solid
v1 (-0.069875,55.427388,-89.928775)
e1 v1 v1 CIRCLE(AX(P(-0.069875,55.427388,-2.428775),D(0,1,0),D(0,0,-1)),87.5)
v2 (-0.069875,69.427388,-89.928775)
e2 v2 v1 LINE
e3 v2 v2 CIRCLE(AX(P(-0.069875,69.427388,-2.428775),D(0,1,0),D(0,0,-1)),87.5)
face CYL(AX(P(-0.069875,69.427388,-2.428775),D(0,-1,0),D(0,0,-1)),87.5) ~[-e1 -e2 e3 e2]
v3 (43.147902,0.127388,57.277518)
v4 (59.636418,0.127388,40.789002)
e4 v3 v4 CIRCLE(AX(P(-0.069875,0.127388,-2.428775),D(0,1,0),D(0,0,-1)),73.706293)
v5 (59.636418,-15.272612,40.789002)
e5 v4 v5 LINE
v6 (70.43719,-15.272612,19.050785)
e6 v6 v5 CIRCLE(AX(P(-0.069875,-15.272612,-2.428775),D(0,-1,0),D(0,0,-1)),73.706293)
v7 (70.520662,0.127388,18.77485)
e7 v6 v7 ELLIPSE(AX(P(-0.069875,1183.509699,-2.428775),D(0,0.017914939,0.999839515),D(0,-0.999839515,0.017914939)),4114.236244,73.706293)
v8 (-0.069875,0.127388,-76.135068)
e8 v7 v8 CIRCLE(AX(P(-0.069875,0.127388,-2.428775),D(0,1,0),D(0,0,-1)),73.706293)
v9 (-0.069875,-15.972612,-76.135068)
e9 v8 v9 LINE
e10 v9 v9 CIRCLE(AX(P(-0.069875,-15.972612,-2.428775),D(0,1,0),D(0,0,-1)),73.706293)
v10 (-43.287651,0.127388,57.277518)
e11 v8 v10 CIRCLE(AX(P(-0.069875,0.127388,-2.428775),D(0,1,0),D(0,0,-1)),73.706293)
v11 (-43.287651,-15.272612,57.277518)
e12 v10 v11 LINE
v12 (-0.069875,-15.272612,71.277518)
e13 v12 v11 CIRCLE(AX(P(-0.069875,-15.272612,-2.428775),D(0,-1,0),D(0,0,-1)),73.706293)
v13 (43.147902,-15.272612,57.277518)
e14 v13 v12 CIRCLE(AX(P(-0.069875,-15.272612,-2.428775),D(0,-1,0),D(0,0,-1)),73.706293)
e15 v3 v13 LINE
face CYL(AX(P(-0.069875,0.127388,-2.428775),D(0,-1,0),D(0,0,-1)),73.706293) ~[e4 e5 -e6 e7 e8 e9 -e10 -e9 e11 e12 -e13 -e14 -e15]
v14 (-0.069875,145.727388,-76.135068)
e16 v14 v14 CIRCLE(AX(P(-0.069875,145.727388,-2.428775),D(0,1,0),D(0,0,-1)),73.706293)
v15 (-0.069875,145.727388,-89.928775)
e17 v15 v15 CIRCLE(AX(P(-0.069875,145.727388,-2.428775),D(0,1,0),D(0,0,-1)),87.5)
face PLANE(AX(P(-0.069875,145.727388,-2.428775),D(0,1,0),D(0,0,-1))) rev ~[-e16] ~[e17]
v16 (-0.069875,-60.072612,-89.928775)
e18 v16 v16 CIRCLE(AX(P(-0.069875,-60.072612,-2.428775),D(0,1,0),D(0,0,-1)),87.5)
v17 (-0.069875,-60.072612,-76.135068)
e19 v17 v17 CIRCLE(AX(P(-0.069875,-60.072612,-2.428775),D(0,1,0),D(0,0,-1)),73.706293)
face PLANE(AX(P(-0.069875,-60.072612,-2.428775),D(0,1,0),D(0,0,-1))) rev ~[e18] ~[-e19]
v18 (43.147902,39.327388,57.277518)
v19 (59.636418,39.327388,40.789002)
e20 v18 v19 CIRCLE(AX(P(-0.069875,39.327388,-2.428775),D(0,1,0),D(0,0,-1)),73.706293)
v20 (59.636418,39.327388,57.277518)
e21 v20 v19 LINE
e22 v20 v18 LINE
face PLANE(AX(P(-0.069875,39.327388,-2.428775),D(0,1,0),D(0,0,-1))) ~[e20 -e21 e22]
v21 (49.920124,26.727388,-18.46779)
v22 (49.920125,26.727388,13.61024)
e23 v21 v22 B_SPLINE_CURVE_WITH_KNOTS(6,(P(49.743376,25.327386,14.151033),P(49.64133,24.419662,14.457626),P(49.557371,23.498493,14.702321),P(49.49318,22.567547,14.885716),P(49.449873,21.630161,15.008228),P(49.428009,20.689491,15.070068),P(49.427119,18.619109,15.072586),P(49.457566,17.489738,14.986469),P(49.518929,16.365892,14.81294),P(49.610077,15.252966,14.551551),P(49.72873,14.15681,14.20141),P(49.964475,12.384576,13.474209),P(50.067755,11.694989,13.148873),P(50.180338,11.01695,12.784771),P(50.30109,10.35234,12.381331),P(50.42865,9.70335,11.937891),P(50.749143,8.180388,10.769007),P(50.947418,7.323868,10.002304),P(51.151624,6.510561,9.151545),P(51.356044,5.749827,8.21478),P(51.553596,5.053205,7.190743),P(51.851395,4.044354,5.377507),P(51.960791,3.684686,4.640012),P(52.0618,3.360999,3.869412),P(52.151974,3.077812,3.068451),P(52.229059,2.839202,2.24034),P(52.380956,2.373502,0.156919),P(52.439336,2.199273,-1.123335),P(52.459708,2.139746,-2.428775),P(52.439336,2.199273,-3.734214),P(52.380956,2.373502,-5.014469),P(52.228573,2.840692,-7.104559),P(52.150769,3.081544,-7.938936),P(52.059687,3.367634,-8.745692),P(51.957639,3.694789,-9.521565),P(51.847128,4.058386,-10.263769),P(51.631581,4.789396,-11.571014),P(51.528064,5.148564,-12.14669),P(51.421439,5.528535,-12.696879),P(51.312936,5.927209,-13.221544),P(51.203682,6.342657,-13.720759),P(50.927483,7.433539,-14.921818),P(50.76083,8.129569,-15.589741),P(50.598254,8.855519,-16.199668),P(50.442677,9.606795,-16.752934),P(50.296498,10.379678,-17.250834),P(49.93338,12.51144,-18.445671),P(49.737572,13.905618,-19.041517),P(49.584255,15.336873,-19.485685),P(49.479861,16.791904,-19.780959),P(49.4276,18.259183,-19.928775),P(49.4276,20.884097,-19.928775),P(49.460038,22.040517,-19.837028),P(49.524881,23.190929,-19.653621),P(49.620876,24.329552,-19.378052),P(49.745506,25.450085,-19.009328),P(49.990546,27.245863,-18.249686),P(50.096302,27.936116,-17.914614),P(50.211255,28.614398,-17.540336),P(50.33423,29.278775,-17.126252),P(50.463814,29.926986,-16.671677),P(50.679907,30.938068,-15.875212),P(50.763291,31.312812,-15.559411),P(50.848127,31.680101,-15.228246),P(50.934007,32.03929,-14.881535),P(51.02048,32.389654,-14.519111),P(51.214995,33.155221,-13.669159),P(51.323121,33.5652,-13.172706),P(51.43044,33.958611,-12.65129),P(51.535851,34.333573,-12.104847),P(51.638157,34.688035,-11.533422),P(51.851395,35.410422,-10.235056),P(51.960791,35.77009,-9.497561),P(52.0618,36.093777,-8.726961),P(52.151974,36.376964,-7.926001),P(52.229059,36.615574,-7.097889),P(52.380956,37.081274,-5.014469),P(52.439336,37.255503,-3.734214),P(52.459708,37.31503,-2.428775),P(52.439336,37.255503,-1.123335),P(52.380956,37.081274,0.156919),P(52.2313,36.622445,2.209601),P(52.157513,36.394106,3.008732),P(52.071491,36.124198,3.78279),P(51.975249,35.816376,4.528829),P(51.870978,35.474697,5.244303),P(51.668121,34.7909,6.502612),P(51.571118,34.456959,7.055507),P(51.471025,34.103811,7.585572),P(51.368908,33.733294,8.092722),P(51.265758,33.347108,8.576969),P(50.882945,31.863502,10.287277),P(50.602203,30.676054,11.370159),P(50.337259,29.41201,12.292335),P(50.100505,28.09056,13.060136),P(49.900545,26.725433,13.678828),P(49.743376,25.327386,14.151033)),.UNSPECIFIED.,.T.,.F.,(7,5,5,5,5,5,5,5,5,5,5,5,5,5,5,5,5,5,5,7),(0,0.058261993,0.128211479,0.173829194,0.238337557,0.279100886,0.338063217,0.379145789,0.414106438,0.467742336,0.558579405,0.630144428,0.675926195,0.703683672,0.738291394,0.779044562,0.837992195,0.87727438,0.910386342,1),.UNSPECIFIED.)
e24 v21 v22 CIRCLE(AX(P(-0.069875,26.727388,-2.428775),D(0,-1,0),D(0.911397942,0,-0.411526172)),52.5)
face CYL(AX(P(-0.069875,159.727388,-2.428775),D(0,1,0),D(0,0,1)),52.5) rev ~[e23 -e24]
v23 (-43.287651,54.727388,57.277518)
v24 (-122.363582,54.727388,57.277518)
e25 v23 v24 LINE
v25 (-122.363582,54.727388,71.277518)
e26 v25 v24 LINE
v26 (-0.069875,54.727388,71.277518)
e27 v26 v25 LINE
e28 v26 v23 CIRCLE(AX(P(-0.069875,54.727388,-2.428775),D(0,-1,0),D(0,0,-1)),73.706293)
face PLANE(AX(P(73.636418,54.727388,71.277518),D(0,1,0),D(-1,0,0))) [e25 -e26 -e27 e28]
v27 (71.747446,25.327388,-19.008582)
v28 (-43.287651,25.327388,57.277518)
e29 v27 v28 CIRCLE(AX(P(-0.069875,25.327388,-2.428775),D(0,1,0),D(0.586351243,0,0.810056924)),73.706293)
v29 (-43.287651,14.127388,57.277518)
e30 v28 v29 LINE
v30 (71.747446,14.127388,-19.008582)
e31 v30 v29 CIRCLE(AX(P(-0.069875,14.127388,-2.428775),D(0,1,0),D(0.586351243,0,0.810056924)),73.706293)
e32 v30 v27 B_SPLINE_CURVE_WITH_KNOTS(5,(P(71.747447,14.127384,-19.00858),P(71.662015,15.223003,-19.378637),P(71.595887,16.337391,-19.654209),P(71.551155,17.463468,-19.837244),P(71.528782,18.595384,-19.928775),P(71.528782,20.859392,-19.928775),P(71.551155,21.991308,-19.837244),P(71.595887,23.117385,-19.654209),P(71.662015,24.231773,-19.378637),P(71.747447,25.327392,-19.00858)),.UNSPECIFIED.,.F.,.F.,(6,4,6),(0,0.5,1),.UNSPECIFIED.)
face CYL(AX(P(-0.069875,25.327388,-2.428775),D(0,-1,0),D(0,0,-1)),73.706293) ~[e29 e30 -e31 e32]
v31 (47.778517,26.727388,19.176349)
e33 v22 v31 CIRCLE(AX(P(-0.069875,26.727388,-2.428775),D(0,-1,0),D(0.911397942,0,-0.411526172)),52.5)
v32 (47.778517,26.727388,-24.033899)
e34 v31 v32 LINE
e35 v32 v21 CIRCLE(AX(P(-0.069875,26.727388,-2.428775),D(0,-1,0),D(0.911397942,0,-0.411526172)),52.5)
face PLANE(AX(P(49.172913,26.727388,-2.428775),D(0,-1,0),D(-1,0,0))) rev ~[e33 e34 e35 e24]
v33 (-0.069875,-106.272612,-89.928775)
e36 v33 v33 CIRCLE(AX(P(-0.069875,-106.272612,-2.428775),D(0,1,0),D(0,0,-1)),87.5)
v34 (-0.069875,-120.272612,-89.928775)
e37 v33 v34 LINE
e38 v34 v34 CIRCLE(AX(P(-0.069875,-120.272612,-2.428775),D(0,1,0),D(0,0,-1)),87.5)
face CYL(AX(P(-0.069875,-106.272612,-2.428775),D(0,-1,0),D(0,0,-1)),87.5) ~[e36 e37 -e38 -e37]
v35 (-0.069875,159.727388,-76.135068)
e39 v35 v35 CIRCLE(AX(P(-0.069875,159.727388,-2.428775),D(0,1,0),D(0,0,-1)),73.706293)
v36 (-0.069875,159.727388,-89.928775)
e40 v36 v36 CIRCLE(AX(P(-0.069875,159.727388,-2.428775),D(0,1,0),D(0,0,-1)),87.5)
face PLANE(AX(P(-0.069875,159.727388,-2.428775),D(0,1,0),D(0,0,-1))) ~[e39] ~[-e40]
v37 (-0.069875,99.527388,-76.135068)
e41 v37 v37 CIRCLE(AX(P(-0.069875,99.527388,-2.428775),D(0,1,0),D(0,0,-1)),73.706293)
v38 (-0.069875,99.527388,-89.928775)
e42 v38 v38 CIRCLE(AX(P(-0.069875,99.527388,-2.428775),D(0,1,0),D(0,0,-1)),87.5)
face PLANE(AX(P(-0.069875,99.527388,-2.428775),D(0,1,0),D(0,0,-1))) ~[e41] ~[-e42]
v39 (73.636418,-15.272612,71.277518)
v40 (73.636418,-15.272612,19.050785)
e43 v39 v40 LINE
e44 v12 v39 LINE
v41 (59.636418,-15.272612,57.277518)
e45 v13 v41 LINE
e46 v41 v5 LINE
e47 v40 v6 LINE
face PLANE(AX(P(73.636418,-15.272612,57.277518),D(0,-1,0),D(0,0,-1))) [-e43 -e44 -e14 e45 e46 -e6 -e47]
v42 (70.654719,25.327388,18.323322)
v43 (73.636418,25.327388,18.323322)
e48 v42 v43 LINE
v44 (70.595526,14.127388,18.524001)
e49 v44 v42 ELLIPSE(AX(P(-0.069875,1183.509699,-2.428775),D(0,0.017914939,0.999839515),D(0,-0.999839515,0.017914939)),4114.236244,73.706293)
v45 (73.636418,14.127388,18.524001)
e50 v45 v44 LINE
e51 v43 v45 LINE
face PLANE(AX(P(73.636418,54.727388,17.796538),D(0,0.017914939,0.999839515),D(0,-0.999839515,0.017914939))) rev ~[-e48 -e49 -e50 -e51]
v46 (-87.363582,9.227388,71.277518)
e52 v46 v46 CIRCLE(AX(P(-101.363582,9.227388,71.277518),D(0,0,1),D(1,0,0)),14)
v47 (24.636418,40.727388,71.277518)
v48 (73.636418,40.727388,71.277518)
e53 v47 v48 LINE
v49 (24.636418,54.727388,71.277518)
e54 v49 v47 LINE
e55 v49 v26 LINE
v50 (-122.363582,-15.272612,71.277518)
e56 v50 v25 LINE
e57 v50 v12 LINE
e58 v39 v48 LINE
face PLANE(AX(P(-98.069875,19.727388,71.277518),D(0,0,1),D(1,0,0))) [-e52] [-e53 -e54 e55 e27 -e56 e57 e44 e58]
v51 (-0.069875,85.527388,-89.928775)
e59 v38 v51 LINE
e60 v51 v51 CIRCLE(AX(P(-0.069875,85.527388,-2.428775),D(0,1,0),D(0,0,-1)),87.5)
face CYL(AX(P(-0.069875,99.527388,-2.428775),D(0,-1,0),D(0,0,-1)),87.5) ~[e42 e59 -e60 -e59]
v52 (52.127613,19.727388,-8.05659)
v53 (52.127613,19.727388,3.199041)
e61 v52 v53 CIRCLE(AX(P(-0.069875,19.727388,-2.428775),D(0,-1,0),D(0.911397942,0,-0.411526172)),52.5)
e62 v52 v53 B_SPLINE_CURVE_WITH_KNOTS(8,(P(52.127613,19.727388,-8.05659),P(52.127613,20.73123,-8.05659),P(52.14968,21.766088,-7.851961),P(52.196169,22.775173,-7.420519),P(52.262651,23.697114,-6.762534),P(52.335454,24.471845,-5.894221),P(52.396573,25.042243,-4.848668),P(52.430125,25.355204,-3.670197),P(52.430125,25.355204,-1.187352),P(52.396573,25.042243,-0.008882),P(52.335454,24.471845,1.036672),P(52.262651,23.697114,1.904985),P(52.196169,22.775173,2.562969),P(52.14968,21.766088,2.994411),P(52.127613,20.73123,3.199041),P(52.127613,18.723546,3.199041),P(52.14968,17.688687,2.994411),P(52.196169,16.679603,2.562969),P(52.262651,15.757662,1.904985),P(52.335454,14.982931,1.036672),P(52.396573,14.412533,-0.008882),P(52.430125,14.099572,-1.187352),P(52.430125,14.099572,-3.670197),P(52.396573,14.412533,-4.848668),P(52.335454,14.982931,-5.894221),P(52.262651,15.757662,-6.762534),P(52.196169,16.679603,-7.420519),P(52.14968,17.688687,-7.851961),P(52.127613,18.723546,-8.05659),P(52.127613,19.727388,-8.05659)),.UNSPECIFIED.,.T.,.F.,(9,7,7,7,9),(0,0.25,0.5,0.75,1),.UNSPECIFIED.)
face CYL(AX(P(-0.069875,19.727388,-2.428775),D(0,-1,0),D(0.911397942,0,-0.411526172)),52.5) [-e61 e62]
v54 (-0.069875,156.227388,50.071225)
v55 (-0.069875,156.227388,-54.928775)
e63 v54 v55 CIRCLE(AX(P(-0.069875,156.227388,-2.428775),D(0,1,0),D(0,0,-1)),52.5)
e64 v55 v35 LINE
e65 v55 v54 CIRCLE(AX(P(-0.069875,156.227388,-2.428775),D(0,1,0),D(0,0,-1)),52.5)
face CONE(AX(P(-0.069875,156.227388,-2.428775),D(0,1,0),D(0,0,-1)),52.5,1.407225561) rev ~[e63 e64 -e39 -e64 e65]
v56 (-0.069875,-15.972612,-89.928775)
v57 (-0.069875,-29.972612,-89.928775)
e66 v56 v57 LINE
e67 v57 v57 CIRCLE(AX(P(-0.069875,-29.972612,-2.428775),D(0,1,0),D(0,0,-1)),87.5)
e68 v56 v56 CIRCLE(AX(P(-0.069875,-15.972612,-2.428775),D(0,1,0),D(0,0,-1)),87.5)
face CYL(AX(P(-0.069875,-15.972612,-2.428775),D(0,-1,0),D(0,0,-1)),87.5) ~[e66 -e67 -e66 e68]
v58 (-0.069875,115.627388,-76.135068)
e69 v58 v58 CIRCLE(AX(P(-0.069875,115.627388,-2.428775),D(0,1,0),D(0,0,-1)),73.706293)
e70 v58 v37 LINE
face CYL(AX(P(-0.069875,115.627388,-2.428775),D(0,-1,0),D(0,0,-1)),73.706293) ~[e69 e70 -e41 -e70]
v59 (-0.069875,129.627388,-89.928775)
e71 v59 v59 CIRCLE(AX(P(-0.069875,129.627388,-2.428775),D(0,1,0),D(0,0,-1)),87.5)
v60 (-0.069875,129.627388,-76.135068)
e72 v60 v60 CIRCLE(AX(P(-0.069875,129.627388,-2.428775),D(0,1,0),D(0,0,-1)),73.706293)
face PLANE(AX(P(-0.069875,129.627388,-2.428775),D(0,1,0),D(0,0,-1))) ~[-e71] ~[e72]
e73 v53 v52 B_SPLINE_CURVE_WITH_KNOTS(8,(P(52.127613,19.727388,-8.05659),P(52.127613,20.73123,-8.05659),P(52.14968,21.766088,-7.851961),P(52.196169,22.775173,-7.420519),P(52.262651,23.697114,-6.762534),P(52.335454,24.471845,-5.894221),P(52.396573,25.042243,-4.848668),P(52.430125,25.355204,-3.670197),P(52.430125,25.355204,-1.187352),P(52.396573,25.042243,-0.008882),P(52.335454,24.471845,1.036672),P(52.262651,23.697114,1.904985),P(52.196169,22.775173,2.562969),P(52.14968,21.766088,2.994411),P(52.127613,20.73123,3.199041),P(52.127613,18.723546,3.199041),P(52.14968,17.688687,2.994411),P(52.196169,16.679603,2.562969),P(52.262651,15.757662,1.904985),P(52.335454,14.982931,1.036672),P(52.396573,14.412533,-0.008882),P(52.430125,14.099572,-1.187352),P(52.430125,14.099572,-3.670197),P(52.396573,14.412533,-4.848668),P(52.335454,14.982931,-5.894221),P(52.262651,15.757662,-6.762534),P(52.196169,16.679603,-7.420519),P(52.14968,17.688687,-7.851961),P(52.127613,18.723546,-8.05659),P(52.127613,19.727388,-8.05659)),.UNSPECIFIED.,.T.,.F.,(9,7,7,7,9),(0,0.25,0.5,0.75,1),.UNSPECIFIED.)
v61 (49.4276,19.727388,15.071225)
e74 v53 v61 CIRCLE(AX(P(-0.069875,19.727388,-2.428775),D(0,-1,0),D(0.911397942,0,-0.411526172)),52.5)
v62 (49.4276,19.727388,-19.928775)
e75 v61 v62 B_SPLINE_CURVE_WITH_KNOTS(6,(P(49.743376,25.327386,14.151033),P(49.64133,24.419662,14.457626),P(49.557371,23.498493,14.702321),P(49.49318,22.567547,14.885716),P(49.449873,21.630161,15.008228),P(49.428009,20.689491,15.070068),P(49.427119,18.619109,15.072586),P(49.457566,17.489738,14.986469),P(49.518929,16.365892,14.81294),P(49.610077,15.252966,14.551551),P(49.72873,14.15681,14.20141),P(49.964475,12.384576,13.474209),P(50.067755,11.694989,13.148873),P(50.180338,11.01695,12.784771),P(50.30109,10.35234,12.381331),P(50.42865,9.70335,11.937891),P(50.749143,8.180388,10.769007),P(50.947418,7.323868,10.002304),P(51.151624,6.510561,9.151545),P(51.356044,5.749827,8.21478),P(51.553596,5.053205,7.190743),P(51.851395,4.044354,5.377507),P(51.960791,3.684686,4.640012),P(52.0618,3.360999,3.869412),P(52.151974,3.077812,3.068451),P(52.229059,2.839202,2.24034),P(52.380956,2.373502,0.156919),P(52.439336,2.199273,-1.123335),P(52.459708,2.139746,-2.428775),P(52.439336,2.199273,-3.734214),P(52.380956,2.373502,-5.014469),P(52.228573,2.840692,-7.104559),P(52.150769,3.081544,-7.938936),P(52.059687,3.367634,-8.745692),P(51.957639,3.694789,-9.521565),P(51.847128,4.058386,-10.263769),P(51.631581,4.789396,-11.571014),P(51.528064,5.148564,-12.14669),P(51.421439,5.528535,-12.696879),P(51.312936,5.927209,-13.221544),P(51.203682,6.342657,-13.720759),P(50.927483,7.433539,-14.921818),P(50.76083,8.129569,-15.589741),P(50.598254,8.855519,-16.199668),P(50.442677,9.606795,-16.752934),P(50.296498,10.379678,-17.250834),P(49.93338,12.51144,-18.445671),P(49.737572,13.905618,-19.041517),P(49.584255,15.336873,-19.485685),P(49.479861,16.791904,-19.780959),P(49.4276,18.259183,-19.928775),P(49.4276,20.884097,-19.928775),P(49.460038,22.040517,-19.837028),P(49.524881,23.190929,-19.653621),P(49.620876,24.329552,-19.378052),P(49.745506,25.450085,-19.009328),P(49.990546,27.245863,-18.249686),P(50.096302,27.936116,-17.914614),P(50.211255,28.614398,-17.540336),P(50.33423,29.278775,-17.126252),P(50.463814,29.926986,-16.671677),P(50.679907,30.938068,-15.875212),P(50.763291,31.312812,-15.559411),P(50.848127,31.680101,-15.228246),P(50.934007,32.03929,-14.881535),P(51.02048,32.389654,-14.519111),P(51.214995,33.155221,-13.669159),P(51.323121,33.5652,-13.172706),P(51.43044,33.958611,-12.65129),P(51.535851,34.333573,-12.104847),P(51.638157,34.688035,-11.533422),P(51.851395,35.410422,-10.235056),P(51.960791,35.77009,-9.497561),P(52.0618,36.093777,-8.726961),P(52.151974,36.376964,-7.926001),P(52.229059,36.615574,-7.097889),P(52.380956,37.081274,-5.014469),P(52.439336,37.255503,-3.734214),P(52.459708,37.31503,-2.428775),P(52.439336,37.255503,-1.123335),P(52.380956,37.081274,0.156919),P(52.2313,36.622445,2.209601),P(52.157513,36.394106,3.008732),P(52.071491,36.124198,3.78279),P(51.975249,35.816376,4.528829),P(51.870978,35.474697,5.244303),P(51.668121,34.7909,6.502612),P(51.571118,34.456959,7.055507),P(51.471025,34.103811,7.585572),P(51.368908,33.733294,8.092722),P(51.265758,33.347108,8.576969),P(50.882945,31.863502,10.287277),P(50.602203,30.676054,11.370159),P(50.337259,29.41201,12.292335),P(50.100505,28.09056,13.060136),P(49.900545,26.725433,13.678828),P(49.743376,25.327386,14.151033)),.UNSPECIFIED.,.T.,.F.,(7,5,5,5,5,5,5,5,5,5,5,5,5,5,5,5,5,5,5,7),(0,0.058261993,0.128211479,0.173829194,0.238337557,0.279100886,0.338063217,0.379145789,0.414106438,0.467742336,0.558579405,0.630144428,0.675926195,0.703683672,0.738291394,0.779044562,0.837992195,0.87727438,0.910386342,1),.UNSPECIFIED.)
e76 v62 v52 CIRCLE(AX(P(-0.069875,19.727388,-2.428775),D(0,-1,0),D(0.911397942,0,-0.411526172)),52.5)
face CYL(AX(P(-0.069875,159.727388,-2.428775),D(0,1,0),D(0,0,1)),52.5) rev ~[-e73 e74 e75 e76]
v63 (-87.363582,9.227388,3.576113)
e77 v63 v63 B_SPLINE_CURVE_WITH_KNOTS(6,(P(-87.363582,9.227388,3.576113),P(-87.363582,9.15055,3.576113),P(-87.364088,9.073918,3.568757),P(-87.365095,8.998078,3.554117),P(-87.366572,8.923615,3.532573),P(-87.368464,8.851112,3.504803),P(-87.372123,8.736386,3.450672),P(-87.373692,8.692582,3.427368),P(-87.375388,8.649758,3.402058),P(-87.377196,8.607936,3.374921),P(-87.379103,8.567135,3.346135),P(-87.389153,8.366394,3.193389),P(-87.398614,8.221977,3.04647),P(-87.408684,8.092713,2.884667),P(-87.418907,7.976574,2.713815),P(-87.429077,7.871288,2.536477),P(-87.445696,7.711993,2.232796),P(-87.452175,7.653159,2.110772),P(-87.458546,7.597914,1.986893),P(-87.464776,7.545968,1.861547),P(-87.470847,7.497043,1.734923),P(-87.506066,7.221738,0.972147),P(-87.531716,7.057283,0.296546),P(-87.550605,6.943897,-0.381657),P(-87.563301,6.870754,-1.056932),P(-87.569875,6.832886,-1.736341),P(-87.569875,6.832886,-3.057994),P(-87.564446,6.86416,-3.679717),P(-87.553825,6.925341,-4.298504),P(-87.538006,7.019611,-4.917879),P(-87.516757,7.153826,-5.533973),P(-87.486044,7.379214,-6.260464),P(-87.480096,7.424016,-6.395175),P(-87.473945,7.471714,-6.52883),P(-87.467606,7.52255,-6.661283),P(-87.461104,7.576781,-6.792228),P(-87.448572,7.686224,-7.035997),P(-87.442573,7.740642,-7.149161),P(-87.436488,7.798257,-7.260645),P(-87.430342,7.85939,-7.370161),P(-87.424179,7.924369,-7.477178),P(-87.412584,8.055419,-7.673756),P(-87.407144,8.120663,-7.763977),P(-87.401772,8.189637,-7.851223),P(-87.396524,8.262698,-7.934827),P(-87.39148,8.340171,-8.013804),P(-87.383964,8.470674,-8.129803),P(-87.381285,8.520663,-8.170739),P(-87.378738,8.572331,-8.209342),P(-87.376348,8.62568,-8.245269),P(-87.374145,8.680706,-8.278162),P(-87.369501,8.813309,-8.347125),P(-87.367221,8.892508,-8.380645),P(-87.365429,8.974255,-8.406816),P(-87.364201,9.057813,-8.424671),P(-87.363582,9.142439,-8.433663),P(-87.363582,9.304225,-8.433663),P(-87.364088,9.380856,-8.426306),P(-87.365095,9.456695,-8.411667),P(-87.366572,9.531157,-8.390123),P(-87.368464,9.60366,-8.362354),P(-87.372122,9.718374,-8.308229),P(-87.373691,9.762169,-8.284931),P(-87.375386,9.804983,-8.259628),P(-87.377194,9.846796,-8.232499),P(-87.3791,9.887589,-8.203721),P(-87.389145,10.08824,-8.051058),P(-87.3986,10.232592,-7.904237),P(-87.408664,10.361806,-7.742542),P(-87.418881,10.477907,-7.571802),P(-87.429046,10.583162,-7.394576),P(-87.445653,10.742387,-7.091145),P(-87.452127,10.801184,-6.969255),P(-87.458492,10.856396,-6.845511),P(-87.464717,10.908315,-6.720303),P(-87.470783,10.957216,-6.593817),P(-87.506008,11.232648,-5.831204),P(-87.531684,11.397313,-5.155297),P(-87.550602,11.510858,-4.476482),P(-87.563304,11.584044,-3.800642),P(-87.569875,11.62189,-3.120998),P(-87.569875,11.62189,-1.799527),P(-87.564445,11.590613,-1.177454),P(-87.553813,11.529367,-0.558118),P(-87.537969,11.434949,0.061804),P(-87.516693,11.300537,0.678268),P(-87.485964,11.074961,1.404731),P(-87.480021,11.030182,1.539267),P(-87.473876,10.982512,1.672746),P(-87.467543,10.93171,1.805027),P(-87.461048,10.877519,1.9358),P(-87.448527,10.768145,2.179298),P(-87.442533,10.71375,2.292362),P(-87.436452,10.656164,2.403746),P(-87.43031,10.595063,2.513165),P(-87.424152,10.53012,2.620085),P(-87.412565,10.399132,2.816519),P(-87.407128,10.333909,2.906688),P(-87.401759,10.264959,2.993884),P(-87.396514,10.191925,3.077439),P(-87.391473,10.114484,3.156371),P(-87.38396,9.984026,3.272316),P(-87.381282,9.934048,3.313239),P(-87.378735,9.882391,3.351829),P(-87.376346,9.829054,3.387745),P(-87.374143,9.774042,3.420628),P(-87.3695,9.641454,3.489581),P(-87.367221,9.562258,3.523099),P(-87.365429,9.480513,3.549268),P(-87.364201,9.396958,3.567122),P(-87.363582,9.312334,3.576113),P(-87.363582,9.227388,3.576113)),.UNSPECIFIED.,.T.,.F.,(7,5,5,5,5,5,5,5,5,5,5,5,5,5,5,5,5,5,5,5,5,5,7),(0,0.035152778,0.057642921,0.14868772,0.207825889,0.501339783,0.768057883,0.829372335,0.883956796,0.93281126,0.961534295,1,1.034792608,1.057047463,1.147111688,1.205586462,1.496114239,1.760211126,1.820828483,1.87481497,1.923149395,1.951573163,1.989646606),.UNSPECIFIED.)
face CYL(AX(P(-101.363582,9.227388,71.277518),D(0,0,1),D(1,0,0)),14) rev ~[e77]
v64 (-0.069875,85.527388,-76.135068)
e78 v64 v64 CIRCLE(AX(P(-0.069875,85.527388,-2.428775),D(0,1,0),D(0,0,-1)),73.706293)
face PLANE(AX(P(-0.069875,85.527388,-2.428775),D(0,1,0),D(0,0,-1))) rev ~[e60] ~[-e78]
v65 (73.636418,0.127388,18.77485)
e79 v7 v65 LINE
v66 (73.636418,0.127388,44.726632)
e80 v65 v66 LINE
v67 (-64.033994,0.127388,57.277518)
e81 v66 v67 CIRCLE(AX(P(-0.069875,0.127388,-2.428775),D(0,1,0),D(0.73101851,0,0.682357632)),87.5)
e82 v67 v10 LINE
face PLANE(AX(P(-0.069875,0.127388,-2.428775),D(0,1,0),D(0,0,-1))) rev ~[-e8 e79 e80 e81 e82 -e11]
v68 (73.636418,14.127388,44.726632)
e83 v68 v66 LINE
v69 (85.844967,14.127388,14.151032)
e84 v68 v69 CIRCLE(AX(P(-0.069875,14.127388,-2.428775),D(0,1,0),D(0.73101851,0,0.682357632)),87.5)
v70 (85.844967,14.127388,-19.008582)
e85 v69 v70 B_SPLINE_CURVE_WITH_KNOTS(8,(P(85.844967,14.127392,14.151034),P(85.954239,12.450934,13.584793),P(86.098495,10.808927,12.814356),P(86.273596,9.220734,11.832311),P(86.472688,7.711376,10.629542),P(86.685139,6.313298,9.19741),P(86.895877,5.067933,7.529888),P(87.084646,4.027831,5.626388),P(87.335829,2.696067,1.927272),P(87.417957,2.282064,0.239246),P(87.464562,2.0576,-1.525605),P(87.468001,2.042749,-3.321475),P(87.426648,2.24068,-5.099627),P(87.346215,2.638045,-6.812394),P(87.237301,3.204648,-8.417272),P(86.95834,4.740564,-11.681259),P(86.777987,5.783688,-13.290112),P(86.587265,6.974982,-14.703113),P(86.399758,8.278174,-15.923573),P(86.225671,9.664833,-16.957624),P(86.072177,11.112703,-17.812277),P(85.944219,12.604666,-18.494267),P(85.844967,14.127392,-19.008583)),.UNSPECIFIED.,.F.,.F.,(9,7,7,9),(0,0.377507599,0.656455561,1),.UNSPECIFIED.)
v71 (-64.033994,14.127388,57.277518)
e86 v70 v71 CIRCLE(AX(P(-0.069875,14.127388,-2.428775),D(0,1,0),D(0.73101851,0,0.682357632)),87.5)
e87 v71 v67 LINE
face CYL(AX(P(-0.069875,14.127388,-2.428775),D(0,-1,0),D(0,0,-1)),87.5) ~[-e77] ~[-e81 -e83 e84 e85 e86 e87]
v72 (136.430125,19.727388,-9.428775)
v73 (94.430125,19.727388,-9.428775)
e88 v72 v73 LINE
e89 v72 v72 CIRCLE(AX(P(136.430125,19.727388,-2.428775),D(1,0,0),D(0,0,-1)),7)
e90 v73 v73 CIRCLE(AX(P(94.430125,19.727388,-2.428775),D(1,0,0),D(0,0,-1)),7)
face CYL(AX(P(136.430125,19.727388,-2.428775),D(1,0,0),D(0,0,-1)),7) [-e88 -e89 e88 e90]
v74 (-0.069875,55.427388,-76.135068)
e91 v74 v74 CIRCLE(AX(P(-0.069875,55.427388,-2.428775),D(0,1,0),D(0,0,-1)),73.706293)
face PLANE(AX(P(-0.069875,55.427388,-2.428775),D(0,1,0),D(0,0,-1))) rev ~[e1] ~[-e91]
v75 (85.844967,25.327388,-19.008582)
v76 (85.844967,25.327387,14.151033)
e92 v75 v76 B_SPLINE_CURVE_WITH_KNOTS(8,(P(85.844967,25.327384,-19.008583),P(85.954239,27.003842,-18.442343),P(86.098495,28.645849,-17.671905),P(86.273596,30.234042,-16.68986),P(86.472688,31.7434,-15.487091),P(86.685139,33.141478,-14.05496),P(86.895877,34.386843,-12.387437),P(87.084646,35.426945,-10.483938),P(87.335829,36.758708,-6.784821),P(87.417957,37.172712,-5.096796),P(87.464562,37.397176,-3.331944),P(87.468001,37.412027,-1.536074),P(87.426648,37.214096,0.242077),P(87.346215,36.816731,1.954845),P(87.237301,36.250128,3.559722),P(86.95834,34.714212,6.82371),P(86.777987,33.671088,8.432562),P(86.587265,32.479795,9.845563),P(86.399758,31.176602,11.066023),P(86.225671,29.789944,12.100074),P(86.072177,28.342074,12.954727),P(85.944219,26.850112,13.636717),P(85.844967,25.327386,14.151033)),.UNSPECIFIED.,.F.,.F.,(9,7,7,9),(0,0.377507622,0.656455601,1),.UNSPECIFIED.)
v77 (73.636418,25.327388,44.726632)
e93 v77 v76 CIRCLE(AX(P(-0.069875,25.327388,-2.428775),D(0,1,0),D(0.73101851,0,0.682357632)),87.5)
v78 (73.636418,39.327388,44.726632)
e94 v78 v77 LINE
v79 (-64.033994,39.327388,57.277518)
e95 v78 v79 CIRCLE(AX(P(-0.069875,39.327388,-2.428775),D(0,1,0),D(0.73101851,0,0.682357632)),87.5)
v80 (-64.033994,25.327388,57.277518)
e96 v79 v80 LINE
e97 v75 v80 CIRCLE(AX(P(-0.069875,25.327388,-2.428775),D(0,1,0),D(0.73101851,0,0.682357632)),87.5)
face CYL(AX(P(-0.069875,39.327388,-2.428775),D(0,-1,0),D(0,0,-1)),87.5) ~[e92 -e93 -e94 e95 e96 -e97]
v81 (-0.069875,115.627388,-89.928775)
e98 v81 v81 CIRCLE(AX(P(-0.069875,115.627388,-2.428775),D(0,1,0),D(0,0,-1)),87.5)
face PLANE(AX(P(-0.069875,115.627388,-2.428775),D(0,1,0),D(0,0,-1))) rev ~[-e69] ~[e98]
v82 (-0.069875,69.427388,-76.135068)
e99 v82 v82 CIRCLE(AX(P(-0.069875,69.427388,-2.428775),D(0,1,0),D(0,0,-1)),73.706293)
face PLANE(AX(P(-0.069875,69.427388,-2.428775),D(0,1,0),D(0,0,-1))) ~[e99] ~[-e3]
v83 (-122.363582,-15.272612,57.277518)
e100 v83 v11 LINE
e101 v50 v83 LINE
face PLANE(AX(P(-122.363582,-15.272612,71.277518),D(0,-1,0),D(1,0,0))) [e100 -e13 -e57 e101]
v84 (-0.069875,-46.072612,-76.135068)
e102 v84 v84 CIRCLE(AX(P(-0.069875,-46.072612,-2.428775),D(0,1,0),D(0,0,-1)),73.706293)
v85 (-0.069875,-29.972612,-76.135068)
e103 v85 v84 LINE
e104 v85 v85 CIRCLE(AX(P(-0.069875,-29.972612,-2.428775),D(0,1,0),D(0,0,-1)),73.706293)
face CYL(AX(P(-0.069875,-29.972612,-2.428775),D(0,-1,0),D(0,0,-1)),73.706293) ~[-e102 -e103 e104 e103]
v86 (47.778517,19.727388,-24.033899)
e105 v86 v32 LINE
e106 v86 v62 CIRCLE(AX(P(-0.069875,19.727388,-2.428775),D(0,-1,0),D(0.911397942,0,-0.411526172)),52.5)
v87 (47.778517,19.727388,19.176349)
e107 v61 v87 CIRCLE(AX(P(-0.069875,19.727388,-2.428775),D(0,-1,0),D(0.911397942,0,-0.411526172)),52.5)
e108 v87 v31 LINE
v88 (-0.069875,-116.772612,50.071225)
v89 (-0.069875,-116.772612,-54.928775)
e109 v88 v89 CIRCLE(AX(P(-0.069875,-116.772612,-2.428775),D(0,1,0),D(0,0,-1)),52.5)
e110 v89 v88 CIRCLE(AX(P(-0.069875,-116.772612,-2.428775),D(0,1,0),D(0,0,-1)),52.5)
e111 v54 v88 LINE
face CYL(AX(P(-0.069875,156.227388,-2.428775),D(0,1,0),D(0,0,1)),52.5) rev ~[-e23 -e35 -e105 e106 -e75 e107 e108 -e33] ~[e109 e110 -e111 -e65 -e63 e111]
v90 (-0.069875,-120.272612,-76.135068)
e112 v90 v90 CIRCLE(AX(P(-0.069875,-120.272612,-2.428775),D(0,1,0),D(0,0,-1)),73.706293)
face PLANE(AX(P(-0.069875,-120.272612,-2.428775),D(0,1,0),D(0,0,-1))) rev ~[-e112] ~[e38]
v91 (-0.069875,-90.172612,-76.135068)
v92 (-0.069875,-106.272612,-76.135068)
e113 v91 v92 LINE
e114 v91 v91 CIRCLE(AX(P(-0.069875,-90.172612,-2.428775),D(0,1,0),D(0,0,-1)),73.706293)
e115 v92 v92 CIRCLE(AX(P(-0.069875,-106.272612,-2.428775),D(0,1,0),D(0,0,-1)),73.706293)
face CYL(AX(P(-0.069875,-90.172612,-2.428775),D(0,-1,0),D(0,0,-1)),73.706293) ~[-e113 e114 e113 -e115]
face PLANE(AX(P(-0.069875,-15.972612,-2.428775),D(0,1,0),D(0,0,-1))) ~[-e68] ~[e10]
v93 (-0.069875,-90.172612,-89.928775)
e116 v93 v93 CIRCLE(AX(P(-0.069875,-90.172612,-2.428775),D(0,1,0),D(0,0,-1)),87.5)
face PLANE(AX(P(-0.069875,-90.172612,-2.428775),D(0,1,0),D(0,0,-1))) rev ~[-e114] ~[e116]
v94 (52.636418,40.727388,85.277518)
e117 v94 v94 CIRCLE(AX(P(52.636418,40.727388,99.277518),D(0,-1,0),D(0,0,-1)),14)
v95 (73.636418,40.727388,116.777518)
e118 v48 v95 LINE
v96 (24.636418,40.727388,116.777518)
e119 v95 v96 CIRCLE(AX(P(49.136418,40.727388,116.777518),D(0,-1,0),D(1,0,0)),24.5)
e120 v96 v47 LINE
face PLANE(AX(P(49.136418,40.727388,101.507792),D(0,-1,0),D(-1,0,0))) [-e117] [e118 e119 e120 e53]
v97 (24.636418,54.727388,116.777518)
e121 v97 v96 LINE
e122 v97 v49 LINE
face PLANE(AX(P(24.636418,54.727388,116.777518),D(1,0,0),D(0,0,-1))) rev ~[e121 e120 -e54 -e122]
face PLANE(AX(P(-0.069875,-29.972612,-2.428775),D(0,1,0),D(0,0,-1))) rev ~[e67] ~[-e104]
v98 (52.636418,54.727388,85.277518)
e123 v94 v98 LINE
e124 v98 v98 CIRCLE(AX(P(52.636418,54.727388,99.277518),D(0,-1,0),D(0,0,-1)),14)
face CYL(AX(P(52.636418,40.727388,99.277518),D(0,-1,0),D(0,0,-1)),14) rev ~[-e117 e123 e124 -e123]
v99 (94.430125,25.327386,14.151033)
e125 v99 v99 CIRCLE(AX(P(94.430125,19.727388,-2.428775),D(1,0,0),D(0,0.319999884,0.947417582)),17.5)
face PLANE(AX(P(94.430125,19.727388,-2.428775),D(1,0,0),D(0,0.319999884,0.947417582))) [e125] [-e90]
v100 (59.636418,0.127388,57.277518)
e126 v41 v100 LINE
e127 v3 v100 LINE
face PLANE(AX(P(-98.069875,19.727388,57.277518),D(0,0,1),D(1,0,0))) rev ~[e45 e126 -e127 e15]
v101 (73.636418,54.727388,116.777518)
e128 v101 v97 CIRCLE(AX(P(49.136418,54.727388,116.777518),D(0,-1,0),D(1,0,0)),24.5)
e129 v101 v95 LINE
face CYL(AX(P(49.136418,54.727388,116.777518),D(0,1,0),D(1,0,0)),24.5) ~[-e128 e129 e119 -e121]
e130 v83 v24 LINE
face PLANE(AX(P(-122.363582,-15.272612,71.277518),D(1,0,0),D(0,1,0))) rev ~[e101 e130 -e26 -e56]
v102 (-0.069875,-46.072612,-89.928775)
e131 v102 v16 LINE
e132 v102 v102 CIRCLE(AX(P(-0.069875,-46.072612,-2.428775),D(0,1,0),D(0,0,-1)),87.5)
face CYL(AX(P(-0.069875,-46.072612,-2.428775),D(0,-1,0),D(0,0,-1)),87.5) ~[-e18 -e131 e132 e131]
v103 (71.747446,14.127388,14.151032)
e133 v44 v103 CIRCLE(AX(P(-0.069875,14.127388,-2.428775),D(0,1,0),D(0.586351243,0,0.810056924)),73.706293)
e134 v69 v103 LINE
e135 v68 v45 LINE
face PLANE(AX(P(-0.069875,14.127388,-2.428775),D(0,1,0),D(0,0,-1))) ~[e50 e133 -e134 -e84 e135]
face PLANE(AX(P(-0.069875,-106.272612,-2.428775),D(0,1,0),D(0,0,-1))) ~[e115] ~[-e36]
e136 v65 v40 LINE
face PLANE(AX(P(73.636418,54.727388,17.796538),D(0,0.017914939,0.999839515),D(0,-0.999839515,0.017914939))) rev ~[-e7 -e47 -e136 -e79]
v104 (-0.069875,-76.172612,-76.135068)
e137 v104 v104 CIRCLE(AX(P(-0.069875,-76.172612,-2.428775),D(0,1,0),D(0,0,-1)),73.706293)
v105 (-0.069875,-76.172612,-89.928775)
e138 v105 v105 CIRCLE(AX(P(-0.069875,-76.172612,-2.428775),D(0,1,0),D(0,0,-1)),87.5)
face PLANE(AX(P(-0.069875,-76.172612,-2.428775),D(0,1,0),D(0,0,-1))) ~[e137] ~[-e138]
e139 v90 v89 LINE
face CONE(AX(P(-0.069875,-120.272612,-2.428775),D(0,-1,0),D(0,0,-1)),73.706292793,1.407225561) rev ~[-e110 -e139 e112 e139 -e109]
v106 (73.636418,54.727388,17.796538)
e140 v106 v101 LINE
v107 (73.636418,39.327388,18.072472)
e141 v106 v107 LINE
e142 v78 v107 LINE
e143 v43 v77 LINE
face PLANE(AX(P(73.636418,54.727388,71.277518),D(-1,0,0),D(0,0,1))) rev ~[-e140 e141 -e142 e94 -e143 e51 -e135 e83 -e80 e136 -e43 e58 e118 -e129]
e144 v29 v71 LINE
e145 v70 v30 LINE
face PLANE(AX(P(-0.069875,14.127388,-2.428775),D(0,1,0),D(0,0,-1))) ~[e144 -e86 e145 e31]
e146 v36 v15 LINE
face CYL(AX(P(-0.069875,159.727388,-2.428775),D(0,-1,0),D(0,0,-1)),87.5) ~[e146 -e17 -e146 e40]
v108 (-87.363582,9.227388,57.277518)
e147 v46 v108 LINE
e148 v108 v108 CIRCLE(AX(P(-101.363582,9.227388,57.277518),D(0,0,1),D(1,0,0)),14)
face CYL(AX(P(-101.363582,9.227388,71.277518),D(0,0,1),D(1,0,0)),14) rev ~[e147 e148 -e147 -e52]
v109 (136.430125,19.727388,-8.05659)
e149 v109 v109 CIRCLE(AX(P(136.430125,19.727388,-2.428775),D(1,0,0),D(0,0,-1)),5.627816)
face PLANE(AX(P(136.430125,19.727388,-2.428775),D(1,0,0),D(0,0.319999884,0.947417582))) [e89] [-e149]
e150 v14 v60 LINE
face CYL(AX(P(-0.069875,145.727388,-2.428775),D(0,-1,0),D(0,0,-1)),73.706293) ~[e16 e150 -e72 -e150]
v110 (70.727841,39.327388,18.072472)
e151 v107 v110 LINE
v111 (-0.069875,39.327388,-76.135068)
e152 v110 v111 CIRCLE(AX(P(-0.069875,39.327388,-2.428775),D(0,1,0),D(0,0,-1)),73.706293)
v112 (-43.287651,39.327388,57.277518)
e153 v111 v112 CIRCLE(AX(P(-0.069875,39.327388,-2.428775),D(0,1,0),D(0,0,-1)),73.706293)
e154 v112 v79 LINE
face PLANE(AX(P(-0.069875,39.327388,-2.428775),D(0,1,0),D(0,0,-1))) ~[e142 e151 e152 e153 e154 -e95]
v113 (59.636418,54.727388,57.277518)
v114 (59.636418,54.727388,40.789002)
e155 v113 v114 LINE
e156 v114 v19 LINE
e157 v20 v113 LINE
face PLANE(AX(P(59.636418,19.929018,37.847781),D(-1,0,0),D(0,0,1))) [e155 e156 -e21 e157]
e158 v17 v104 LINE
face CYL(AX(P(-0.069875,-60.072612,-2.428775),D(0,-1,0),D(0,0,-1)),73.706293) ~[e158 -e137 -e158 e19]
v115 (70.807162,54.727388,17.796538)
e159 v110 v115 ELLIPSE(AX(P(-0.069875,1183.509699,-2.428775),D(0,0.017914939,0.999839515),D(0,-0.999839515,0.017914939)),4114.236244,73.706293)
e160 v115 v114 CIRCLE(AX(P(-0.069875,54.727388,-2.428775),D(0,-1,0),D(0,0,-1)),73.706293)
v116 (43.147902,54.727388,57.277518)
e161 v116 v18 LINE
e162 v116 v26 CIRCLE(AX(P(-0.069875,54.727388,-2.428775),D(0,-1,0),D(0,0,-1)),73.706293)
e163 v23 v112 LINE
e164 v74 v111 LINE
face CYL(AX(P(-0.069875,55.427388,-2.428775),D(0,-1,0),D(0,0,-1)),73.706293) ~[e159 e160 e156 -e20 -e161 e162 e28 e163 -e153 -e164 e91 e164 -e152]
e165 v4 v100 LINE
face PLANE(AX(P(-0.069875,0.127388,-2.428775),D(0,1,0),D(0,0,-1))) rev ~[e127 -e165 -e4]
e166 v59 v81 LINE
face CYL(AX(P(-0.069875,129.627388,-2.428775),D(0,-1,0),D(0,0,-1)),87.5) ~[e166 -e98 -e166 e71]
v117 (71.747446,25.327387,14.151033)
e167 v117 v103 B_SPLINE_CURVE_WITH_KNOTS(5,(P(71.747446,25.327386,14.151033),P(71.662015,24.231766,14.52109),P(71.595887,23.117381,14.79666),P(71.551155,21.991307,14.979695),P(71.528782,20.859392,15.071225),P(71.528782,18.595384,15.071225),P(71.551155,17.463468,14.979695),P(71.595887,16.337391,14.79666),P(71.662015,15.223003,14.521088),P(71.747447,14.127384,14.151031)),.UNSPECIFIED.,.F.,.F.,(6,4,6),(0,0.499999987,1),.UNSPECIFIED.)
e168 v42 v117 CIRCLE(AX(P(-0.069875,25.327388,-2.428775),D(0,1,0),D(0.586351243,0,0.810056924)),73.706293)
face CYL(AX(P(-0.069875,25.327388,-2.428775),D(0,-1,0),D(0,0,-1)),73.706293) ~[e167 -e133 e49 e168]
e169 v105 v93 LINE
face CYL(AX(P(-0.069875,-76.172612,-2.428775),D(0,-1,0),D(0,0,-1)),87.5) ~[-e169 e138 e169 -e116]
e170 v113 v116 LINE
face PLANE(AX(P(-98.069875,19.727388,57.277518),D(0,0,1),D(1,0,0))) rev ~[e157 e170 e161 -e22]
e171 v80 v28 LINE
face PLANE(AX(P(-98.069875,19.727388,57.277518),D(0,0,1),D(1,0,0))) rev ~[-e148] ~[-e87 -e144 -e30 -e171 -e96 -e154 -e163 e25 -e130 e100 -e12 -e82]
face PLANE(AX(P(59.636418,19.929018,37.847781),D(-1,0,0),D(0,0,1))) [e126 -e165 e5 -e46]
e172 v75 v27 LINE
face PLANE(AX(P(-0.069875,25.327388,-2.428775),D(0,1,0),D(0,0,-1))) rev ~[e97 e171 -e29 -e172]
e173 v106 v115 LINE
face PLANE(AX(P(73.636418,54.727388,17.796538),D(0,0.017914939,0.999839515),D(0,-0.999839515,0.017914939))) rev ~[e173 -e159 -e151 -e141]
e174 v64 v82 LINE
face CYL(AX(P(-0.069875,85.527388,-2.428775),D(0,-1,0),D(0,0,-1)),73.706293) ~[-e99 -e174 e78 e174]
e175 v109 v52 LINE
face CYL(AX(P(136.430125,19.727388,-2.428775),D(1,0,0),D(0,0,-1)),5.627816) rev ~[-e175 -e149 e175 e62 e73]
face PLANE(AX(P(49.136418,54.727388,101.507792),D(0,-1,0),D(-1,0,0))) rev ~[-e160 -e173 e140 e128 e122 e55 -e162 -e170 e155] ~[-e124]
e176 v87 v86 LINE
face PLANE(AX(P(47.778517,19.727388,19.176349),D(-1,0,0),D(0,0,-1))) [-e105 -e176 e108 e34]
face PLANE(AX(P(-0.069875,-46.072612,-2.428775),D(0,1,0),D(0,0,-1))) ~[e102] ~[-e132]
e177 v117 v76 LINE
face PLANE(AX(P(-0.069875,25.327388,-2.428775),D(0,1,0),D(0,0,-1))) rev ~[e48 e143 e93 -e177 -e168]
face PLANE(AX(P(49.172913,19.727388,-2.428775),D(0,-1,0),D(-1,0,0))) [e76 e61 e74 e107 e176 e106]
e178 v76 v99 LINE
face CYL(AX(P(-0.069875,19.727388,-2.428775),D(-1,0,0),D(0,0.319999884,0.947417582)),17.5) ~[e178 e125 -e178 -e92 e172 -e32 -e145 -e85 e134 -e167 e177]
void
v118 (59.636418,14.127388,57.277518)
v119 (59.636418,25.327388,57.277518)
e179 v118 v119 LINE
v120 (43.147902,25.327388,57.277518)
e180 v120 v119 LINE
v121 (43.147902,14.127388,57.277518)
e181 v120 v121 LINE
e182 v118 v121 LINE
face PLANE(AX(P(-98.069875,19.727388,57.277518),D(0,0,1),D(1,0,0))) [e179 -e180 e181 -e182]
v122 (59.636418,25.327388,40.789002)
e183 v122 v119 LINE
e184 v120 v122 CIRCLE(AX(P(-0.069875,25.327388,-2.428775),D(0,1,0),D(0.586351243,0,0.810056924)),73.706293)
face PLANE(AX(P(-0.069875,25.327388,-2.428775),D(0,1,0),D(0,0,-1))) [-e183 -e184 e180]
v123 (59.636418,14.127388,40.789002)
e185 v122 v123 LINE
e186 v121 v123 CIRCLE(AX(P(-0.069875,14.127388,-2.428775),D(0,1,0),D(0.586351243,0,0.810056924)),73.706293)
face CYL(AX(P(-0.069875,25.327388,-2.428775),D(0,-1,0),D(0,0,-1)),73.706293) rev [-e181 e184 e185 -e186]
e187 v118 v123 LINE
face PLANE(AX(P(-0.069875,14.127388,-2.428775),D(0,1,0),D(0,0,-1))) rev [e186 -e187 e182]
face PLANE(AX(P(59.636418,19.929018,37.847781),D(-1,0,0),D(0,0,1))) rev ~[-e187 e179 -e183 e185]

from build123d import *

# Parameters (mm, degrees)
CROQUIS2_R              = 7.5
CORTAR_EXTRUIR1_DEPTH   = 100
CROQUIS3_W              = 6.941059202
CROQUIS3_H              = 10
CROQUIS3_W_2            = 21.058940798
SALIENTE_EXTRUIR1_DEPTH = 2
CROQUIS4_W              = 28
CROQUIS4_H              = 10
CORTAR_EXTRUIR2_DEPTH   = 2
SALIENTE_EXTRUIR2_DEPTH = 2
SALIENTE_EXTRUIR3_DEPTH = 2
CROQUIS8_R              = 2.5
SALIENTE_EXTRUIR4_DEPTH = 19.5
CROQUIS9_R              = 2.5
CROQUIS9_R_2            = 1
CORTAR_EXTRUIR3_DEPTH   = 6
CROQUIS10_R             = 0.803973648
CORTAR_EXTRUIR4_DEPTH   = 16
CROQUIS11_R             = 7.5
CORTAR_EXTRUIR5_DEPTH   = 86
CROQUIS12_R             = 2
CORTAR_EXTRUIR7_DEPTH   = 86
CROQUIS14_R             = 2
CORTAR_EXTRUIR8_DEPTH   = 86
SALIENTE_EXTRUIR5_DEPTH = 1
ESCALA1_SCALE           = 7


with BuildPart() as part:
    # Croquis1 → Revolución2 (revolve)
    with BuildSketch(Plane.XY, mode=Mode.PRIVATE) as revoluci_n2_sk:
        Polygon((-10.529470399, 0), (-7.5, 0.5), (0, 0.5), (0, 39.5), (-7.5, 39.5), (-10.529470399, 40), (-12.5, 40), (-12.5, 38), (-10.529470399, 38), (-10.529470399, 35.7), (-12.5, 35.7), (-12.5, 33.7), (-10.529470399, 33.7), (-10.529470399, 31.4), (-12.5, 31.4), (-12.5, 29.4), (-10.529470399, 29.4), (-10.529470399, 27.1), (-12.5, 27.1), (-12.5, 25.1), (-10.529470399, 25.1), (-10.529470399, 22.8), (-12.5, 22.8), (-12.5, 20.8), (-10.529470399, 20.8), (-10.529470399, 19.2), (-12.5, 19.2), (-12.5, 17.2), (-10.529470399, 17.2), (-10.529470399, 14.9), (-12.5, 14.9), (-12.5, 12.9), (-10.529470399, 12.9), (-10.529470399, 10.6), (-12.5, 10.6), (-12.5, 8.6), (-10.529470399, 8.6), (-10.529470399, 6.3), (-12.5, 6.3), (-12.5, 4.3), (-10.529470399, 4.3), (-10.529470399, 2), (-12.5, 2), (-12.5, 0), align=None)
    revolve(revoluci_n2_sk.sketch.rotate(Axis((0, 0.5, 0), (0, 1, 0)), 270), axis=Axis((0, 0.5, 0), (0, 1, 0)))

    # Croquis2 → Cortar-Extruir1 (cut)
    with BuildSketch(Plane(origin=(0, 39.5, 0), x_dir=(1, 0, 0), z_dir=(0, 1, 0))):
        with Locations(Location((0, 0, 0), (0, 0, 270))):
            Circle(CROQUIS2_R)
    extrude(amount=-CORTAR_EXTRUIR1_DEPTH, mode=Mode.SUBTRACT)

    # Croquis3 → Saliente-Extruir1 (add)
    with BuildSketch(Plane.XY.offset(10.529470399)):
        with Locations((-14, 20)):
            Rectangle(CROQUIS3_W, CROQUIS3_H)
        with Locations((0, 20)):
            Rectangle(CROQUIS3_W_2, CROQUIS3_H)
    extrude(amount=-SALIENTE_EXTRUIR1_DEPTH)

    # Croquis4 → Cortar-Extruir2 (cut)
    with BuildSketch(Plane.XY.offset(10.529470399)):
        with Locations((-3.470529601, 20)):
            Rectangle(CROQUIS4_W, CROQUIS4_H)
    extrude(amount=CORTAR_EXTRUIR2_DEPTH, mode=Mode.SUBTRACT)

    # Croquis5 → Saliente-Extruir2 (add)
    with BuildSketch(Plane(origin=(10.529470399, 0, 0), x_dir=(0, 0, -1), z_dir=(1, 0, 0))):
        Polygon((-8.529470399, 25), (-2.889330359, 25), (-3.068508508, 15), (-8.411275116, 15), (-8.529470399, 15), align=None)
    extrude(amount=-SALIENTE_EXTRUIR2_DEPTH)

    # Croquis7 → Saliente-Extruir3 (add)
    with BuildSketch(Plane(origin=(0, 25, 0), x_dir=(1, 0, 0), z_dir=(0, 1, 0))):
        with BuildLine():
            Line((10.529470399, -10.529470399), (10.529470399, -17.029470399))
            ThreePointArc((10.529470399, -17.029470399), (7.029470399, -20.529470399), (3.529470399, -17.029470399))
            Line((3.529470399, -17.029470399), (3.529470399, -10.529470399))
            Line((3.529470399, -10.529470399), (10.529470399, -10.529470399))
        make_face()
    extrude(amount=-SALIENTE_EXTRUIR3_DEPTH)

    # Croquis8 → Saliente-Extruir4 (add)
    with BuildSketch(Plane(origin=(0, 0, 0), x_dir=(0, 0, -1), z_dir=(1, 0, 0))):
        with Locations(Location((0, 20, 0), (0, 0, 161.337082109))):
            Circle(CROQUIS8_R)
    extrude(amount=SALIENTE_EXTRUIR4_DEPTH)

    # Croquis9 → Cortar-Extruir3 (cut)
    with BuildSketch(Plane(origin=(19.5, 0, 0), x_dir=(0, 0, -1), z_dir=(1, 0, 0))):
        with Locations(Location((0, 20, 0), (0, 0, 161.337082109))):
            Circle(CROQUIS9_R)
        with Locations((0, 20)):
            Circle(CROQUIS9_R_2, mode=Mode.SUBTRACT)
    extrude(amount=-CORTAR_EXTRUIR3_DEPTH, mode=Mode.SUBTRACT)

    # Croquis10 → Cortar-Extruir4 (cut)
    with BuildSketch(Plane(origin=(19.5, 0, 0), x_dir=(0, 0, -1), z_dir=(1, 0, 0))):
        with Locations((0, 20)):
            Circle(CROQUIS10_R)
    extrude(amount=-CORTAR_EXTRUIR4_DEPTH, mode=Mode.SUBTRACT)

    # Croquis11 → Cortar-Extruir5 (cut)
    with BuildSketch(Plane(origin=(0, 40, 0), x_dir=(1, 0, 0), z_dir=(0, 1, 0))):
        with Locations(Location((0, 0, 0), (0, 0, 270))):
            Circle(CROQUIS11_R)
    extrude(amount=-CORTAR_EXTRUIR5_DEPTH, mode=Mode.SUBTRACT)

    # Croquis12 → Cortar-Extruir7 (cut)
    with BuildSketch(Plane.XY.offset(10.529470399)):
        with Locations((-14.470529601, 18.5)):
            Circle(CROQUIS12_R)
    extrude(amount=-CORTAR_EXTRUIR7_DEPTH, mode=Mode.SUBTRACT)

    # Croquis14 → Cortar-Extruir8 (cut)
    with BuildSketch(Plane.XZ.offset(-23)):
        with Locations(Location((7.529470399, 14.529470399, 0), (0, 0, 270))):
            Circle(CROQUIS14_R)
    extrude(amount=-CORTAR_EXTRUIR8_DEPTH, mode=Mode.SUBTRACT)

    # Croquis15 → Saliente-Extruir5 (add)
    with BuildSketch(Plane(origin=(0, 20, 0), x_dir=(-1, 0, 0), z_dir=(0, -1, 0))):
        with BuildLine():
            Line((-6.835484568, -3.086446293), (-6.835484568, 3.086446293))
            ThreePointArc((-6.835484568, 3.086446293), (-7.5, 0), (-6.835484568, -3.086446293))
        make_face()
    extrude(amount=-SALIENTE_EXTRUIR5_DEPTH)


with BuildPart() as part_1:
    # Escala1: scaled about (0.011645774, 20.045435338, 0.404795785)
    add(part.part.scale(ESCALA1_SCALE).moved(Location((-0.069874644, -120.272612028, -2.42877471))))


solid = part_1.part
